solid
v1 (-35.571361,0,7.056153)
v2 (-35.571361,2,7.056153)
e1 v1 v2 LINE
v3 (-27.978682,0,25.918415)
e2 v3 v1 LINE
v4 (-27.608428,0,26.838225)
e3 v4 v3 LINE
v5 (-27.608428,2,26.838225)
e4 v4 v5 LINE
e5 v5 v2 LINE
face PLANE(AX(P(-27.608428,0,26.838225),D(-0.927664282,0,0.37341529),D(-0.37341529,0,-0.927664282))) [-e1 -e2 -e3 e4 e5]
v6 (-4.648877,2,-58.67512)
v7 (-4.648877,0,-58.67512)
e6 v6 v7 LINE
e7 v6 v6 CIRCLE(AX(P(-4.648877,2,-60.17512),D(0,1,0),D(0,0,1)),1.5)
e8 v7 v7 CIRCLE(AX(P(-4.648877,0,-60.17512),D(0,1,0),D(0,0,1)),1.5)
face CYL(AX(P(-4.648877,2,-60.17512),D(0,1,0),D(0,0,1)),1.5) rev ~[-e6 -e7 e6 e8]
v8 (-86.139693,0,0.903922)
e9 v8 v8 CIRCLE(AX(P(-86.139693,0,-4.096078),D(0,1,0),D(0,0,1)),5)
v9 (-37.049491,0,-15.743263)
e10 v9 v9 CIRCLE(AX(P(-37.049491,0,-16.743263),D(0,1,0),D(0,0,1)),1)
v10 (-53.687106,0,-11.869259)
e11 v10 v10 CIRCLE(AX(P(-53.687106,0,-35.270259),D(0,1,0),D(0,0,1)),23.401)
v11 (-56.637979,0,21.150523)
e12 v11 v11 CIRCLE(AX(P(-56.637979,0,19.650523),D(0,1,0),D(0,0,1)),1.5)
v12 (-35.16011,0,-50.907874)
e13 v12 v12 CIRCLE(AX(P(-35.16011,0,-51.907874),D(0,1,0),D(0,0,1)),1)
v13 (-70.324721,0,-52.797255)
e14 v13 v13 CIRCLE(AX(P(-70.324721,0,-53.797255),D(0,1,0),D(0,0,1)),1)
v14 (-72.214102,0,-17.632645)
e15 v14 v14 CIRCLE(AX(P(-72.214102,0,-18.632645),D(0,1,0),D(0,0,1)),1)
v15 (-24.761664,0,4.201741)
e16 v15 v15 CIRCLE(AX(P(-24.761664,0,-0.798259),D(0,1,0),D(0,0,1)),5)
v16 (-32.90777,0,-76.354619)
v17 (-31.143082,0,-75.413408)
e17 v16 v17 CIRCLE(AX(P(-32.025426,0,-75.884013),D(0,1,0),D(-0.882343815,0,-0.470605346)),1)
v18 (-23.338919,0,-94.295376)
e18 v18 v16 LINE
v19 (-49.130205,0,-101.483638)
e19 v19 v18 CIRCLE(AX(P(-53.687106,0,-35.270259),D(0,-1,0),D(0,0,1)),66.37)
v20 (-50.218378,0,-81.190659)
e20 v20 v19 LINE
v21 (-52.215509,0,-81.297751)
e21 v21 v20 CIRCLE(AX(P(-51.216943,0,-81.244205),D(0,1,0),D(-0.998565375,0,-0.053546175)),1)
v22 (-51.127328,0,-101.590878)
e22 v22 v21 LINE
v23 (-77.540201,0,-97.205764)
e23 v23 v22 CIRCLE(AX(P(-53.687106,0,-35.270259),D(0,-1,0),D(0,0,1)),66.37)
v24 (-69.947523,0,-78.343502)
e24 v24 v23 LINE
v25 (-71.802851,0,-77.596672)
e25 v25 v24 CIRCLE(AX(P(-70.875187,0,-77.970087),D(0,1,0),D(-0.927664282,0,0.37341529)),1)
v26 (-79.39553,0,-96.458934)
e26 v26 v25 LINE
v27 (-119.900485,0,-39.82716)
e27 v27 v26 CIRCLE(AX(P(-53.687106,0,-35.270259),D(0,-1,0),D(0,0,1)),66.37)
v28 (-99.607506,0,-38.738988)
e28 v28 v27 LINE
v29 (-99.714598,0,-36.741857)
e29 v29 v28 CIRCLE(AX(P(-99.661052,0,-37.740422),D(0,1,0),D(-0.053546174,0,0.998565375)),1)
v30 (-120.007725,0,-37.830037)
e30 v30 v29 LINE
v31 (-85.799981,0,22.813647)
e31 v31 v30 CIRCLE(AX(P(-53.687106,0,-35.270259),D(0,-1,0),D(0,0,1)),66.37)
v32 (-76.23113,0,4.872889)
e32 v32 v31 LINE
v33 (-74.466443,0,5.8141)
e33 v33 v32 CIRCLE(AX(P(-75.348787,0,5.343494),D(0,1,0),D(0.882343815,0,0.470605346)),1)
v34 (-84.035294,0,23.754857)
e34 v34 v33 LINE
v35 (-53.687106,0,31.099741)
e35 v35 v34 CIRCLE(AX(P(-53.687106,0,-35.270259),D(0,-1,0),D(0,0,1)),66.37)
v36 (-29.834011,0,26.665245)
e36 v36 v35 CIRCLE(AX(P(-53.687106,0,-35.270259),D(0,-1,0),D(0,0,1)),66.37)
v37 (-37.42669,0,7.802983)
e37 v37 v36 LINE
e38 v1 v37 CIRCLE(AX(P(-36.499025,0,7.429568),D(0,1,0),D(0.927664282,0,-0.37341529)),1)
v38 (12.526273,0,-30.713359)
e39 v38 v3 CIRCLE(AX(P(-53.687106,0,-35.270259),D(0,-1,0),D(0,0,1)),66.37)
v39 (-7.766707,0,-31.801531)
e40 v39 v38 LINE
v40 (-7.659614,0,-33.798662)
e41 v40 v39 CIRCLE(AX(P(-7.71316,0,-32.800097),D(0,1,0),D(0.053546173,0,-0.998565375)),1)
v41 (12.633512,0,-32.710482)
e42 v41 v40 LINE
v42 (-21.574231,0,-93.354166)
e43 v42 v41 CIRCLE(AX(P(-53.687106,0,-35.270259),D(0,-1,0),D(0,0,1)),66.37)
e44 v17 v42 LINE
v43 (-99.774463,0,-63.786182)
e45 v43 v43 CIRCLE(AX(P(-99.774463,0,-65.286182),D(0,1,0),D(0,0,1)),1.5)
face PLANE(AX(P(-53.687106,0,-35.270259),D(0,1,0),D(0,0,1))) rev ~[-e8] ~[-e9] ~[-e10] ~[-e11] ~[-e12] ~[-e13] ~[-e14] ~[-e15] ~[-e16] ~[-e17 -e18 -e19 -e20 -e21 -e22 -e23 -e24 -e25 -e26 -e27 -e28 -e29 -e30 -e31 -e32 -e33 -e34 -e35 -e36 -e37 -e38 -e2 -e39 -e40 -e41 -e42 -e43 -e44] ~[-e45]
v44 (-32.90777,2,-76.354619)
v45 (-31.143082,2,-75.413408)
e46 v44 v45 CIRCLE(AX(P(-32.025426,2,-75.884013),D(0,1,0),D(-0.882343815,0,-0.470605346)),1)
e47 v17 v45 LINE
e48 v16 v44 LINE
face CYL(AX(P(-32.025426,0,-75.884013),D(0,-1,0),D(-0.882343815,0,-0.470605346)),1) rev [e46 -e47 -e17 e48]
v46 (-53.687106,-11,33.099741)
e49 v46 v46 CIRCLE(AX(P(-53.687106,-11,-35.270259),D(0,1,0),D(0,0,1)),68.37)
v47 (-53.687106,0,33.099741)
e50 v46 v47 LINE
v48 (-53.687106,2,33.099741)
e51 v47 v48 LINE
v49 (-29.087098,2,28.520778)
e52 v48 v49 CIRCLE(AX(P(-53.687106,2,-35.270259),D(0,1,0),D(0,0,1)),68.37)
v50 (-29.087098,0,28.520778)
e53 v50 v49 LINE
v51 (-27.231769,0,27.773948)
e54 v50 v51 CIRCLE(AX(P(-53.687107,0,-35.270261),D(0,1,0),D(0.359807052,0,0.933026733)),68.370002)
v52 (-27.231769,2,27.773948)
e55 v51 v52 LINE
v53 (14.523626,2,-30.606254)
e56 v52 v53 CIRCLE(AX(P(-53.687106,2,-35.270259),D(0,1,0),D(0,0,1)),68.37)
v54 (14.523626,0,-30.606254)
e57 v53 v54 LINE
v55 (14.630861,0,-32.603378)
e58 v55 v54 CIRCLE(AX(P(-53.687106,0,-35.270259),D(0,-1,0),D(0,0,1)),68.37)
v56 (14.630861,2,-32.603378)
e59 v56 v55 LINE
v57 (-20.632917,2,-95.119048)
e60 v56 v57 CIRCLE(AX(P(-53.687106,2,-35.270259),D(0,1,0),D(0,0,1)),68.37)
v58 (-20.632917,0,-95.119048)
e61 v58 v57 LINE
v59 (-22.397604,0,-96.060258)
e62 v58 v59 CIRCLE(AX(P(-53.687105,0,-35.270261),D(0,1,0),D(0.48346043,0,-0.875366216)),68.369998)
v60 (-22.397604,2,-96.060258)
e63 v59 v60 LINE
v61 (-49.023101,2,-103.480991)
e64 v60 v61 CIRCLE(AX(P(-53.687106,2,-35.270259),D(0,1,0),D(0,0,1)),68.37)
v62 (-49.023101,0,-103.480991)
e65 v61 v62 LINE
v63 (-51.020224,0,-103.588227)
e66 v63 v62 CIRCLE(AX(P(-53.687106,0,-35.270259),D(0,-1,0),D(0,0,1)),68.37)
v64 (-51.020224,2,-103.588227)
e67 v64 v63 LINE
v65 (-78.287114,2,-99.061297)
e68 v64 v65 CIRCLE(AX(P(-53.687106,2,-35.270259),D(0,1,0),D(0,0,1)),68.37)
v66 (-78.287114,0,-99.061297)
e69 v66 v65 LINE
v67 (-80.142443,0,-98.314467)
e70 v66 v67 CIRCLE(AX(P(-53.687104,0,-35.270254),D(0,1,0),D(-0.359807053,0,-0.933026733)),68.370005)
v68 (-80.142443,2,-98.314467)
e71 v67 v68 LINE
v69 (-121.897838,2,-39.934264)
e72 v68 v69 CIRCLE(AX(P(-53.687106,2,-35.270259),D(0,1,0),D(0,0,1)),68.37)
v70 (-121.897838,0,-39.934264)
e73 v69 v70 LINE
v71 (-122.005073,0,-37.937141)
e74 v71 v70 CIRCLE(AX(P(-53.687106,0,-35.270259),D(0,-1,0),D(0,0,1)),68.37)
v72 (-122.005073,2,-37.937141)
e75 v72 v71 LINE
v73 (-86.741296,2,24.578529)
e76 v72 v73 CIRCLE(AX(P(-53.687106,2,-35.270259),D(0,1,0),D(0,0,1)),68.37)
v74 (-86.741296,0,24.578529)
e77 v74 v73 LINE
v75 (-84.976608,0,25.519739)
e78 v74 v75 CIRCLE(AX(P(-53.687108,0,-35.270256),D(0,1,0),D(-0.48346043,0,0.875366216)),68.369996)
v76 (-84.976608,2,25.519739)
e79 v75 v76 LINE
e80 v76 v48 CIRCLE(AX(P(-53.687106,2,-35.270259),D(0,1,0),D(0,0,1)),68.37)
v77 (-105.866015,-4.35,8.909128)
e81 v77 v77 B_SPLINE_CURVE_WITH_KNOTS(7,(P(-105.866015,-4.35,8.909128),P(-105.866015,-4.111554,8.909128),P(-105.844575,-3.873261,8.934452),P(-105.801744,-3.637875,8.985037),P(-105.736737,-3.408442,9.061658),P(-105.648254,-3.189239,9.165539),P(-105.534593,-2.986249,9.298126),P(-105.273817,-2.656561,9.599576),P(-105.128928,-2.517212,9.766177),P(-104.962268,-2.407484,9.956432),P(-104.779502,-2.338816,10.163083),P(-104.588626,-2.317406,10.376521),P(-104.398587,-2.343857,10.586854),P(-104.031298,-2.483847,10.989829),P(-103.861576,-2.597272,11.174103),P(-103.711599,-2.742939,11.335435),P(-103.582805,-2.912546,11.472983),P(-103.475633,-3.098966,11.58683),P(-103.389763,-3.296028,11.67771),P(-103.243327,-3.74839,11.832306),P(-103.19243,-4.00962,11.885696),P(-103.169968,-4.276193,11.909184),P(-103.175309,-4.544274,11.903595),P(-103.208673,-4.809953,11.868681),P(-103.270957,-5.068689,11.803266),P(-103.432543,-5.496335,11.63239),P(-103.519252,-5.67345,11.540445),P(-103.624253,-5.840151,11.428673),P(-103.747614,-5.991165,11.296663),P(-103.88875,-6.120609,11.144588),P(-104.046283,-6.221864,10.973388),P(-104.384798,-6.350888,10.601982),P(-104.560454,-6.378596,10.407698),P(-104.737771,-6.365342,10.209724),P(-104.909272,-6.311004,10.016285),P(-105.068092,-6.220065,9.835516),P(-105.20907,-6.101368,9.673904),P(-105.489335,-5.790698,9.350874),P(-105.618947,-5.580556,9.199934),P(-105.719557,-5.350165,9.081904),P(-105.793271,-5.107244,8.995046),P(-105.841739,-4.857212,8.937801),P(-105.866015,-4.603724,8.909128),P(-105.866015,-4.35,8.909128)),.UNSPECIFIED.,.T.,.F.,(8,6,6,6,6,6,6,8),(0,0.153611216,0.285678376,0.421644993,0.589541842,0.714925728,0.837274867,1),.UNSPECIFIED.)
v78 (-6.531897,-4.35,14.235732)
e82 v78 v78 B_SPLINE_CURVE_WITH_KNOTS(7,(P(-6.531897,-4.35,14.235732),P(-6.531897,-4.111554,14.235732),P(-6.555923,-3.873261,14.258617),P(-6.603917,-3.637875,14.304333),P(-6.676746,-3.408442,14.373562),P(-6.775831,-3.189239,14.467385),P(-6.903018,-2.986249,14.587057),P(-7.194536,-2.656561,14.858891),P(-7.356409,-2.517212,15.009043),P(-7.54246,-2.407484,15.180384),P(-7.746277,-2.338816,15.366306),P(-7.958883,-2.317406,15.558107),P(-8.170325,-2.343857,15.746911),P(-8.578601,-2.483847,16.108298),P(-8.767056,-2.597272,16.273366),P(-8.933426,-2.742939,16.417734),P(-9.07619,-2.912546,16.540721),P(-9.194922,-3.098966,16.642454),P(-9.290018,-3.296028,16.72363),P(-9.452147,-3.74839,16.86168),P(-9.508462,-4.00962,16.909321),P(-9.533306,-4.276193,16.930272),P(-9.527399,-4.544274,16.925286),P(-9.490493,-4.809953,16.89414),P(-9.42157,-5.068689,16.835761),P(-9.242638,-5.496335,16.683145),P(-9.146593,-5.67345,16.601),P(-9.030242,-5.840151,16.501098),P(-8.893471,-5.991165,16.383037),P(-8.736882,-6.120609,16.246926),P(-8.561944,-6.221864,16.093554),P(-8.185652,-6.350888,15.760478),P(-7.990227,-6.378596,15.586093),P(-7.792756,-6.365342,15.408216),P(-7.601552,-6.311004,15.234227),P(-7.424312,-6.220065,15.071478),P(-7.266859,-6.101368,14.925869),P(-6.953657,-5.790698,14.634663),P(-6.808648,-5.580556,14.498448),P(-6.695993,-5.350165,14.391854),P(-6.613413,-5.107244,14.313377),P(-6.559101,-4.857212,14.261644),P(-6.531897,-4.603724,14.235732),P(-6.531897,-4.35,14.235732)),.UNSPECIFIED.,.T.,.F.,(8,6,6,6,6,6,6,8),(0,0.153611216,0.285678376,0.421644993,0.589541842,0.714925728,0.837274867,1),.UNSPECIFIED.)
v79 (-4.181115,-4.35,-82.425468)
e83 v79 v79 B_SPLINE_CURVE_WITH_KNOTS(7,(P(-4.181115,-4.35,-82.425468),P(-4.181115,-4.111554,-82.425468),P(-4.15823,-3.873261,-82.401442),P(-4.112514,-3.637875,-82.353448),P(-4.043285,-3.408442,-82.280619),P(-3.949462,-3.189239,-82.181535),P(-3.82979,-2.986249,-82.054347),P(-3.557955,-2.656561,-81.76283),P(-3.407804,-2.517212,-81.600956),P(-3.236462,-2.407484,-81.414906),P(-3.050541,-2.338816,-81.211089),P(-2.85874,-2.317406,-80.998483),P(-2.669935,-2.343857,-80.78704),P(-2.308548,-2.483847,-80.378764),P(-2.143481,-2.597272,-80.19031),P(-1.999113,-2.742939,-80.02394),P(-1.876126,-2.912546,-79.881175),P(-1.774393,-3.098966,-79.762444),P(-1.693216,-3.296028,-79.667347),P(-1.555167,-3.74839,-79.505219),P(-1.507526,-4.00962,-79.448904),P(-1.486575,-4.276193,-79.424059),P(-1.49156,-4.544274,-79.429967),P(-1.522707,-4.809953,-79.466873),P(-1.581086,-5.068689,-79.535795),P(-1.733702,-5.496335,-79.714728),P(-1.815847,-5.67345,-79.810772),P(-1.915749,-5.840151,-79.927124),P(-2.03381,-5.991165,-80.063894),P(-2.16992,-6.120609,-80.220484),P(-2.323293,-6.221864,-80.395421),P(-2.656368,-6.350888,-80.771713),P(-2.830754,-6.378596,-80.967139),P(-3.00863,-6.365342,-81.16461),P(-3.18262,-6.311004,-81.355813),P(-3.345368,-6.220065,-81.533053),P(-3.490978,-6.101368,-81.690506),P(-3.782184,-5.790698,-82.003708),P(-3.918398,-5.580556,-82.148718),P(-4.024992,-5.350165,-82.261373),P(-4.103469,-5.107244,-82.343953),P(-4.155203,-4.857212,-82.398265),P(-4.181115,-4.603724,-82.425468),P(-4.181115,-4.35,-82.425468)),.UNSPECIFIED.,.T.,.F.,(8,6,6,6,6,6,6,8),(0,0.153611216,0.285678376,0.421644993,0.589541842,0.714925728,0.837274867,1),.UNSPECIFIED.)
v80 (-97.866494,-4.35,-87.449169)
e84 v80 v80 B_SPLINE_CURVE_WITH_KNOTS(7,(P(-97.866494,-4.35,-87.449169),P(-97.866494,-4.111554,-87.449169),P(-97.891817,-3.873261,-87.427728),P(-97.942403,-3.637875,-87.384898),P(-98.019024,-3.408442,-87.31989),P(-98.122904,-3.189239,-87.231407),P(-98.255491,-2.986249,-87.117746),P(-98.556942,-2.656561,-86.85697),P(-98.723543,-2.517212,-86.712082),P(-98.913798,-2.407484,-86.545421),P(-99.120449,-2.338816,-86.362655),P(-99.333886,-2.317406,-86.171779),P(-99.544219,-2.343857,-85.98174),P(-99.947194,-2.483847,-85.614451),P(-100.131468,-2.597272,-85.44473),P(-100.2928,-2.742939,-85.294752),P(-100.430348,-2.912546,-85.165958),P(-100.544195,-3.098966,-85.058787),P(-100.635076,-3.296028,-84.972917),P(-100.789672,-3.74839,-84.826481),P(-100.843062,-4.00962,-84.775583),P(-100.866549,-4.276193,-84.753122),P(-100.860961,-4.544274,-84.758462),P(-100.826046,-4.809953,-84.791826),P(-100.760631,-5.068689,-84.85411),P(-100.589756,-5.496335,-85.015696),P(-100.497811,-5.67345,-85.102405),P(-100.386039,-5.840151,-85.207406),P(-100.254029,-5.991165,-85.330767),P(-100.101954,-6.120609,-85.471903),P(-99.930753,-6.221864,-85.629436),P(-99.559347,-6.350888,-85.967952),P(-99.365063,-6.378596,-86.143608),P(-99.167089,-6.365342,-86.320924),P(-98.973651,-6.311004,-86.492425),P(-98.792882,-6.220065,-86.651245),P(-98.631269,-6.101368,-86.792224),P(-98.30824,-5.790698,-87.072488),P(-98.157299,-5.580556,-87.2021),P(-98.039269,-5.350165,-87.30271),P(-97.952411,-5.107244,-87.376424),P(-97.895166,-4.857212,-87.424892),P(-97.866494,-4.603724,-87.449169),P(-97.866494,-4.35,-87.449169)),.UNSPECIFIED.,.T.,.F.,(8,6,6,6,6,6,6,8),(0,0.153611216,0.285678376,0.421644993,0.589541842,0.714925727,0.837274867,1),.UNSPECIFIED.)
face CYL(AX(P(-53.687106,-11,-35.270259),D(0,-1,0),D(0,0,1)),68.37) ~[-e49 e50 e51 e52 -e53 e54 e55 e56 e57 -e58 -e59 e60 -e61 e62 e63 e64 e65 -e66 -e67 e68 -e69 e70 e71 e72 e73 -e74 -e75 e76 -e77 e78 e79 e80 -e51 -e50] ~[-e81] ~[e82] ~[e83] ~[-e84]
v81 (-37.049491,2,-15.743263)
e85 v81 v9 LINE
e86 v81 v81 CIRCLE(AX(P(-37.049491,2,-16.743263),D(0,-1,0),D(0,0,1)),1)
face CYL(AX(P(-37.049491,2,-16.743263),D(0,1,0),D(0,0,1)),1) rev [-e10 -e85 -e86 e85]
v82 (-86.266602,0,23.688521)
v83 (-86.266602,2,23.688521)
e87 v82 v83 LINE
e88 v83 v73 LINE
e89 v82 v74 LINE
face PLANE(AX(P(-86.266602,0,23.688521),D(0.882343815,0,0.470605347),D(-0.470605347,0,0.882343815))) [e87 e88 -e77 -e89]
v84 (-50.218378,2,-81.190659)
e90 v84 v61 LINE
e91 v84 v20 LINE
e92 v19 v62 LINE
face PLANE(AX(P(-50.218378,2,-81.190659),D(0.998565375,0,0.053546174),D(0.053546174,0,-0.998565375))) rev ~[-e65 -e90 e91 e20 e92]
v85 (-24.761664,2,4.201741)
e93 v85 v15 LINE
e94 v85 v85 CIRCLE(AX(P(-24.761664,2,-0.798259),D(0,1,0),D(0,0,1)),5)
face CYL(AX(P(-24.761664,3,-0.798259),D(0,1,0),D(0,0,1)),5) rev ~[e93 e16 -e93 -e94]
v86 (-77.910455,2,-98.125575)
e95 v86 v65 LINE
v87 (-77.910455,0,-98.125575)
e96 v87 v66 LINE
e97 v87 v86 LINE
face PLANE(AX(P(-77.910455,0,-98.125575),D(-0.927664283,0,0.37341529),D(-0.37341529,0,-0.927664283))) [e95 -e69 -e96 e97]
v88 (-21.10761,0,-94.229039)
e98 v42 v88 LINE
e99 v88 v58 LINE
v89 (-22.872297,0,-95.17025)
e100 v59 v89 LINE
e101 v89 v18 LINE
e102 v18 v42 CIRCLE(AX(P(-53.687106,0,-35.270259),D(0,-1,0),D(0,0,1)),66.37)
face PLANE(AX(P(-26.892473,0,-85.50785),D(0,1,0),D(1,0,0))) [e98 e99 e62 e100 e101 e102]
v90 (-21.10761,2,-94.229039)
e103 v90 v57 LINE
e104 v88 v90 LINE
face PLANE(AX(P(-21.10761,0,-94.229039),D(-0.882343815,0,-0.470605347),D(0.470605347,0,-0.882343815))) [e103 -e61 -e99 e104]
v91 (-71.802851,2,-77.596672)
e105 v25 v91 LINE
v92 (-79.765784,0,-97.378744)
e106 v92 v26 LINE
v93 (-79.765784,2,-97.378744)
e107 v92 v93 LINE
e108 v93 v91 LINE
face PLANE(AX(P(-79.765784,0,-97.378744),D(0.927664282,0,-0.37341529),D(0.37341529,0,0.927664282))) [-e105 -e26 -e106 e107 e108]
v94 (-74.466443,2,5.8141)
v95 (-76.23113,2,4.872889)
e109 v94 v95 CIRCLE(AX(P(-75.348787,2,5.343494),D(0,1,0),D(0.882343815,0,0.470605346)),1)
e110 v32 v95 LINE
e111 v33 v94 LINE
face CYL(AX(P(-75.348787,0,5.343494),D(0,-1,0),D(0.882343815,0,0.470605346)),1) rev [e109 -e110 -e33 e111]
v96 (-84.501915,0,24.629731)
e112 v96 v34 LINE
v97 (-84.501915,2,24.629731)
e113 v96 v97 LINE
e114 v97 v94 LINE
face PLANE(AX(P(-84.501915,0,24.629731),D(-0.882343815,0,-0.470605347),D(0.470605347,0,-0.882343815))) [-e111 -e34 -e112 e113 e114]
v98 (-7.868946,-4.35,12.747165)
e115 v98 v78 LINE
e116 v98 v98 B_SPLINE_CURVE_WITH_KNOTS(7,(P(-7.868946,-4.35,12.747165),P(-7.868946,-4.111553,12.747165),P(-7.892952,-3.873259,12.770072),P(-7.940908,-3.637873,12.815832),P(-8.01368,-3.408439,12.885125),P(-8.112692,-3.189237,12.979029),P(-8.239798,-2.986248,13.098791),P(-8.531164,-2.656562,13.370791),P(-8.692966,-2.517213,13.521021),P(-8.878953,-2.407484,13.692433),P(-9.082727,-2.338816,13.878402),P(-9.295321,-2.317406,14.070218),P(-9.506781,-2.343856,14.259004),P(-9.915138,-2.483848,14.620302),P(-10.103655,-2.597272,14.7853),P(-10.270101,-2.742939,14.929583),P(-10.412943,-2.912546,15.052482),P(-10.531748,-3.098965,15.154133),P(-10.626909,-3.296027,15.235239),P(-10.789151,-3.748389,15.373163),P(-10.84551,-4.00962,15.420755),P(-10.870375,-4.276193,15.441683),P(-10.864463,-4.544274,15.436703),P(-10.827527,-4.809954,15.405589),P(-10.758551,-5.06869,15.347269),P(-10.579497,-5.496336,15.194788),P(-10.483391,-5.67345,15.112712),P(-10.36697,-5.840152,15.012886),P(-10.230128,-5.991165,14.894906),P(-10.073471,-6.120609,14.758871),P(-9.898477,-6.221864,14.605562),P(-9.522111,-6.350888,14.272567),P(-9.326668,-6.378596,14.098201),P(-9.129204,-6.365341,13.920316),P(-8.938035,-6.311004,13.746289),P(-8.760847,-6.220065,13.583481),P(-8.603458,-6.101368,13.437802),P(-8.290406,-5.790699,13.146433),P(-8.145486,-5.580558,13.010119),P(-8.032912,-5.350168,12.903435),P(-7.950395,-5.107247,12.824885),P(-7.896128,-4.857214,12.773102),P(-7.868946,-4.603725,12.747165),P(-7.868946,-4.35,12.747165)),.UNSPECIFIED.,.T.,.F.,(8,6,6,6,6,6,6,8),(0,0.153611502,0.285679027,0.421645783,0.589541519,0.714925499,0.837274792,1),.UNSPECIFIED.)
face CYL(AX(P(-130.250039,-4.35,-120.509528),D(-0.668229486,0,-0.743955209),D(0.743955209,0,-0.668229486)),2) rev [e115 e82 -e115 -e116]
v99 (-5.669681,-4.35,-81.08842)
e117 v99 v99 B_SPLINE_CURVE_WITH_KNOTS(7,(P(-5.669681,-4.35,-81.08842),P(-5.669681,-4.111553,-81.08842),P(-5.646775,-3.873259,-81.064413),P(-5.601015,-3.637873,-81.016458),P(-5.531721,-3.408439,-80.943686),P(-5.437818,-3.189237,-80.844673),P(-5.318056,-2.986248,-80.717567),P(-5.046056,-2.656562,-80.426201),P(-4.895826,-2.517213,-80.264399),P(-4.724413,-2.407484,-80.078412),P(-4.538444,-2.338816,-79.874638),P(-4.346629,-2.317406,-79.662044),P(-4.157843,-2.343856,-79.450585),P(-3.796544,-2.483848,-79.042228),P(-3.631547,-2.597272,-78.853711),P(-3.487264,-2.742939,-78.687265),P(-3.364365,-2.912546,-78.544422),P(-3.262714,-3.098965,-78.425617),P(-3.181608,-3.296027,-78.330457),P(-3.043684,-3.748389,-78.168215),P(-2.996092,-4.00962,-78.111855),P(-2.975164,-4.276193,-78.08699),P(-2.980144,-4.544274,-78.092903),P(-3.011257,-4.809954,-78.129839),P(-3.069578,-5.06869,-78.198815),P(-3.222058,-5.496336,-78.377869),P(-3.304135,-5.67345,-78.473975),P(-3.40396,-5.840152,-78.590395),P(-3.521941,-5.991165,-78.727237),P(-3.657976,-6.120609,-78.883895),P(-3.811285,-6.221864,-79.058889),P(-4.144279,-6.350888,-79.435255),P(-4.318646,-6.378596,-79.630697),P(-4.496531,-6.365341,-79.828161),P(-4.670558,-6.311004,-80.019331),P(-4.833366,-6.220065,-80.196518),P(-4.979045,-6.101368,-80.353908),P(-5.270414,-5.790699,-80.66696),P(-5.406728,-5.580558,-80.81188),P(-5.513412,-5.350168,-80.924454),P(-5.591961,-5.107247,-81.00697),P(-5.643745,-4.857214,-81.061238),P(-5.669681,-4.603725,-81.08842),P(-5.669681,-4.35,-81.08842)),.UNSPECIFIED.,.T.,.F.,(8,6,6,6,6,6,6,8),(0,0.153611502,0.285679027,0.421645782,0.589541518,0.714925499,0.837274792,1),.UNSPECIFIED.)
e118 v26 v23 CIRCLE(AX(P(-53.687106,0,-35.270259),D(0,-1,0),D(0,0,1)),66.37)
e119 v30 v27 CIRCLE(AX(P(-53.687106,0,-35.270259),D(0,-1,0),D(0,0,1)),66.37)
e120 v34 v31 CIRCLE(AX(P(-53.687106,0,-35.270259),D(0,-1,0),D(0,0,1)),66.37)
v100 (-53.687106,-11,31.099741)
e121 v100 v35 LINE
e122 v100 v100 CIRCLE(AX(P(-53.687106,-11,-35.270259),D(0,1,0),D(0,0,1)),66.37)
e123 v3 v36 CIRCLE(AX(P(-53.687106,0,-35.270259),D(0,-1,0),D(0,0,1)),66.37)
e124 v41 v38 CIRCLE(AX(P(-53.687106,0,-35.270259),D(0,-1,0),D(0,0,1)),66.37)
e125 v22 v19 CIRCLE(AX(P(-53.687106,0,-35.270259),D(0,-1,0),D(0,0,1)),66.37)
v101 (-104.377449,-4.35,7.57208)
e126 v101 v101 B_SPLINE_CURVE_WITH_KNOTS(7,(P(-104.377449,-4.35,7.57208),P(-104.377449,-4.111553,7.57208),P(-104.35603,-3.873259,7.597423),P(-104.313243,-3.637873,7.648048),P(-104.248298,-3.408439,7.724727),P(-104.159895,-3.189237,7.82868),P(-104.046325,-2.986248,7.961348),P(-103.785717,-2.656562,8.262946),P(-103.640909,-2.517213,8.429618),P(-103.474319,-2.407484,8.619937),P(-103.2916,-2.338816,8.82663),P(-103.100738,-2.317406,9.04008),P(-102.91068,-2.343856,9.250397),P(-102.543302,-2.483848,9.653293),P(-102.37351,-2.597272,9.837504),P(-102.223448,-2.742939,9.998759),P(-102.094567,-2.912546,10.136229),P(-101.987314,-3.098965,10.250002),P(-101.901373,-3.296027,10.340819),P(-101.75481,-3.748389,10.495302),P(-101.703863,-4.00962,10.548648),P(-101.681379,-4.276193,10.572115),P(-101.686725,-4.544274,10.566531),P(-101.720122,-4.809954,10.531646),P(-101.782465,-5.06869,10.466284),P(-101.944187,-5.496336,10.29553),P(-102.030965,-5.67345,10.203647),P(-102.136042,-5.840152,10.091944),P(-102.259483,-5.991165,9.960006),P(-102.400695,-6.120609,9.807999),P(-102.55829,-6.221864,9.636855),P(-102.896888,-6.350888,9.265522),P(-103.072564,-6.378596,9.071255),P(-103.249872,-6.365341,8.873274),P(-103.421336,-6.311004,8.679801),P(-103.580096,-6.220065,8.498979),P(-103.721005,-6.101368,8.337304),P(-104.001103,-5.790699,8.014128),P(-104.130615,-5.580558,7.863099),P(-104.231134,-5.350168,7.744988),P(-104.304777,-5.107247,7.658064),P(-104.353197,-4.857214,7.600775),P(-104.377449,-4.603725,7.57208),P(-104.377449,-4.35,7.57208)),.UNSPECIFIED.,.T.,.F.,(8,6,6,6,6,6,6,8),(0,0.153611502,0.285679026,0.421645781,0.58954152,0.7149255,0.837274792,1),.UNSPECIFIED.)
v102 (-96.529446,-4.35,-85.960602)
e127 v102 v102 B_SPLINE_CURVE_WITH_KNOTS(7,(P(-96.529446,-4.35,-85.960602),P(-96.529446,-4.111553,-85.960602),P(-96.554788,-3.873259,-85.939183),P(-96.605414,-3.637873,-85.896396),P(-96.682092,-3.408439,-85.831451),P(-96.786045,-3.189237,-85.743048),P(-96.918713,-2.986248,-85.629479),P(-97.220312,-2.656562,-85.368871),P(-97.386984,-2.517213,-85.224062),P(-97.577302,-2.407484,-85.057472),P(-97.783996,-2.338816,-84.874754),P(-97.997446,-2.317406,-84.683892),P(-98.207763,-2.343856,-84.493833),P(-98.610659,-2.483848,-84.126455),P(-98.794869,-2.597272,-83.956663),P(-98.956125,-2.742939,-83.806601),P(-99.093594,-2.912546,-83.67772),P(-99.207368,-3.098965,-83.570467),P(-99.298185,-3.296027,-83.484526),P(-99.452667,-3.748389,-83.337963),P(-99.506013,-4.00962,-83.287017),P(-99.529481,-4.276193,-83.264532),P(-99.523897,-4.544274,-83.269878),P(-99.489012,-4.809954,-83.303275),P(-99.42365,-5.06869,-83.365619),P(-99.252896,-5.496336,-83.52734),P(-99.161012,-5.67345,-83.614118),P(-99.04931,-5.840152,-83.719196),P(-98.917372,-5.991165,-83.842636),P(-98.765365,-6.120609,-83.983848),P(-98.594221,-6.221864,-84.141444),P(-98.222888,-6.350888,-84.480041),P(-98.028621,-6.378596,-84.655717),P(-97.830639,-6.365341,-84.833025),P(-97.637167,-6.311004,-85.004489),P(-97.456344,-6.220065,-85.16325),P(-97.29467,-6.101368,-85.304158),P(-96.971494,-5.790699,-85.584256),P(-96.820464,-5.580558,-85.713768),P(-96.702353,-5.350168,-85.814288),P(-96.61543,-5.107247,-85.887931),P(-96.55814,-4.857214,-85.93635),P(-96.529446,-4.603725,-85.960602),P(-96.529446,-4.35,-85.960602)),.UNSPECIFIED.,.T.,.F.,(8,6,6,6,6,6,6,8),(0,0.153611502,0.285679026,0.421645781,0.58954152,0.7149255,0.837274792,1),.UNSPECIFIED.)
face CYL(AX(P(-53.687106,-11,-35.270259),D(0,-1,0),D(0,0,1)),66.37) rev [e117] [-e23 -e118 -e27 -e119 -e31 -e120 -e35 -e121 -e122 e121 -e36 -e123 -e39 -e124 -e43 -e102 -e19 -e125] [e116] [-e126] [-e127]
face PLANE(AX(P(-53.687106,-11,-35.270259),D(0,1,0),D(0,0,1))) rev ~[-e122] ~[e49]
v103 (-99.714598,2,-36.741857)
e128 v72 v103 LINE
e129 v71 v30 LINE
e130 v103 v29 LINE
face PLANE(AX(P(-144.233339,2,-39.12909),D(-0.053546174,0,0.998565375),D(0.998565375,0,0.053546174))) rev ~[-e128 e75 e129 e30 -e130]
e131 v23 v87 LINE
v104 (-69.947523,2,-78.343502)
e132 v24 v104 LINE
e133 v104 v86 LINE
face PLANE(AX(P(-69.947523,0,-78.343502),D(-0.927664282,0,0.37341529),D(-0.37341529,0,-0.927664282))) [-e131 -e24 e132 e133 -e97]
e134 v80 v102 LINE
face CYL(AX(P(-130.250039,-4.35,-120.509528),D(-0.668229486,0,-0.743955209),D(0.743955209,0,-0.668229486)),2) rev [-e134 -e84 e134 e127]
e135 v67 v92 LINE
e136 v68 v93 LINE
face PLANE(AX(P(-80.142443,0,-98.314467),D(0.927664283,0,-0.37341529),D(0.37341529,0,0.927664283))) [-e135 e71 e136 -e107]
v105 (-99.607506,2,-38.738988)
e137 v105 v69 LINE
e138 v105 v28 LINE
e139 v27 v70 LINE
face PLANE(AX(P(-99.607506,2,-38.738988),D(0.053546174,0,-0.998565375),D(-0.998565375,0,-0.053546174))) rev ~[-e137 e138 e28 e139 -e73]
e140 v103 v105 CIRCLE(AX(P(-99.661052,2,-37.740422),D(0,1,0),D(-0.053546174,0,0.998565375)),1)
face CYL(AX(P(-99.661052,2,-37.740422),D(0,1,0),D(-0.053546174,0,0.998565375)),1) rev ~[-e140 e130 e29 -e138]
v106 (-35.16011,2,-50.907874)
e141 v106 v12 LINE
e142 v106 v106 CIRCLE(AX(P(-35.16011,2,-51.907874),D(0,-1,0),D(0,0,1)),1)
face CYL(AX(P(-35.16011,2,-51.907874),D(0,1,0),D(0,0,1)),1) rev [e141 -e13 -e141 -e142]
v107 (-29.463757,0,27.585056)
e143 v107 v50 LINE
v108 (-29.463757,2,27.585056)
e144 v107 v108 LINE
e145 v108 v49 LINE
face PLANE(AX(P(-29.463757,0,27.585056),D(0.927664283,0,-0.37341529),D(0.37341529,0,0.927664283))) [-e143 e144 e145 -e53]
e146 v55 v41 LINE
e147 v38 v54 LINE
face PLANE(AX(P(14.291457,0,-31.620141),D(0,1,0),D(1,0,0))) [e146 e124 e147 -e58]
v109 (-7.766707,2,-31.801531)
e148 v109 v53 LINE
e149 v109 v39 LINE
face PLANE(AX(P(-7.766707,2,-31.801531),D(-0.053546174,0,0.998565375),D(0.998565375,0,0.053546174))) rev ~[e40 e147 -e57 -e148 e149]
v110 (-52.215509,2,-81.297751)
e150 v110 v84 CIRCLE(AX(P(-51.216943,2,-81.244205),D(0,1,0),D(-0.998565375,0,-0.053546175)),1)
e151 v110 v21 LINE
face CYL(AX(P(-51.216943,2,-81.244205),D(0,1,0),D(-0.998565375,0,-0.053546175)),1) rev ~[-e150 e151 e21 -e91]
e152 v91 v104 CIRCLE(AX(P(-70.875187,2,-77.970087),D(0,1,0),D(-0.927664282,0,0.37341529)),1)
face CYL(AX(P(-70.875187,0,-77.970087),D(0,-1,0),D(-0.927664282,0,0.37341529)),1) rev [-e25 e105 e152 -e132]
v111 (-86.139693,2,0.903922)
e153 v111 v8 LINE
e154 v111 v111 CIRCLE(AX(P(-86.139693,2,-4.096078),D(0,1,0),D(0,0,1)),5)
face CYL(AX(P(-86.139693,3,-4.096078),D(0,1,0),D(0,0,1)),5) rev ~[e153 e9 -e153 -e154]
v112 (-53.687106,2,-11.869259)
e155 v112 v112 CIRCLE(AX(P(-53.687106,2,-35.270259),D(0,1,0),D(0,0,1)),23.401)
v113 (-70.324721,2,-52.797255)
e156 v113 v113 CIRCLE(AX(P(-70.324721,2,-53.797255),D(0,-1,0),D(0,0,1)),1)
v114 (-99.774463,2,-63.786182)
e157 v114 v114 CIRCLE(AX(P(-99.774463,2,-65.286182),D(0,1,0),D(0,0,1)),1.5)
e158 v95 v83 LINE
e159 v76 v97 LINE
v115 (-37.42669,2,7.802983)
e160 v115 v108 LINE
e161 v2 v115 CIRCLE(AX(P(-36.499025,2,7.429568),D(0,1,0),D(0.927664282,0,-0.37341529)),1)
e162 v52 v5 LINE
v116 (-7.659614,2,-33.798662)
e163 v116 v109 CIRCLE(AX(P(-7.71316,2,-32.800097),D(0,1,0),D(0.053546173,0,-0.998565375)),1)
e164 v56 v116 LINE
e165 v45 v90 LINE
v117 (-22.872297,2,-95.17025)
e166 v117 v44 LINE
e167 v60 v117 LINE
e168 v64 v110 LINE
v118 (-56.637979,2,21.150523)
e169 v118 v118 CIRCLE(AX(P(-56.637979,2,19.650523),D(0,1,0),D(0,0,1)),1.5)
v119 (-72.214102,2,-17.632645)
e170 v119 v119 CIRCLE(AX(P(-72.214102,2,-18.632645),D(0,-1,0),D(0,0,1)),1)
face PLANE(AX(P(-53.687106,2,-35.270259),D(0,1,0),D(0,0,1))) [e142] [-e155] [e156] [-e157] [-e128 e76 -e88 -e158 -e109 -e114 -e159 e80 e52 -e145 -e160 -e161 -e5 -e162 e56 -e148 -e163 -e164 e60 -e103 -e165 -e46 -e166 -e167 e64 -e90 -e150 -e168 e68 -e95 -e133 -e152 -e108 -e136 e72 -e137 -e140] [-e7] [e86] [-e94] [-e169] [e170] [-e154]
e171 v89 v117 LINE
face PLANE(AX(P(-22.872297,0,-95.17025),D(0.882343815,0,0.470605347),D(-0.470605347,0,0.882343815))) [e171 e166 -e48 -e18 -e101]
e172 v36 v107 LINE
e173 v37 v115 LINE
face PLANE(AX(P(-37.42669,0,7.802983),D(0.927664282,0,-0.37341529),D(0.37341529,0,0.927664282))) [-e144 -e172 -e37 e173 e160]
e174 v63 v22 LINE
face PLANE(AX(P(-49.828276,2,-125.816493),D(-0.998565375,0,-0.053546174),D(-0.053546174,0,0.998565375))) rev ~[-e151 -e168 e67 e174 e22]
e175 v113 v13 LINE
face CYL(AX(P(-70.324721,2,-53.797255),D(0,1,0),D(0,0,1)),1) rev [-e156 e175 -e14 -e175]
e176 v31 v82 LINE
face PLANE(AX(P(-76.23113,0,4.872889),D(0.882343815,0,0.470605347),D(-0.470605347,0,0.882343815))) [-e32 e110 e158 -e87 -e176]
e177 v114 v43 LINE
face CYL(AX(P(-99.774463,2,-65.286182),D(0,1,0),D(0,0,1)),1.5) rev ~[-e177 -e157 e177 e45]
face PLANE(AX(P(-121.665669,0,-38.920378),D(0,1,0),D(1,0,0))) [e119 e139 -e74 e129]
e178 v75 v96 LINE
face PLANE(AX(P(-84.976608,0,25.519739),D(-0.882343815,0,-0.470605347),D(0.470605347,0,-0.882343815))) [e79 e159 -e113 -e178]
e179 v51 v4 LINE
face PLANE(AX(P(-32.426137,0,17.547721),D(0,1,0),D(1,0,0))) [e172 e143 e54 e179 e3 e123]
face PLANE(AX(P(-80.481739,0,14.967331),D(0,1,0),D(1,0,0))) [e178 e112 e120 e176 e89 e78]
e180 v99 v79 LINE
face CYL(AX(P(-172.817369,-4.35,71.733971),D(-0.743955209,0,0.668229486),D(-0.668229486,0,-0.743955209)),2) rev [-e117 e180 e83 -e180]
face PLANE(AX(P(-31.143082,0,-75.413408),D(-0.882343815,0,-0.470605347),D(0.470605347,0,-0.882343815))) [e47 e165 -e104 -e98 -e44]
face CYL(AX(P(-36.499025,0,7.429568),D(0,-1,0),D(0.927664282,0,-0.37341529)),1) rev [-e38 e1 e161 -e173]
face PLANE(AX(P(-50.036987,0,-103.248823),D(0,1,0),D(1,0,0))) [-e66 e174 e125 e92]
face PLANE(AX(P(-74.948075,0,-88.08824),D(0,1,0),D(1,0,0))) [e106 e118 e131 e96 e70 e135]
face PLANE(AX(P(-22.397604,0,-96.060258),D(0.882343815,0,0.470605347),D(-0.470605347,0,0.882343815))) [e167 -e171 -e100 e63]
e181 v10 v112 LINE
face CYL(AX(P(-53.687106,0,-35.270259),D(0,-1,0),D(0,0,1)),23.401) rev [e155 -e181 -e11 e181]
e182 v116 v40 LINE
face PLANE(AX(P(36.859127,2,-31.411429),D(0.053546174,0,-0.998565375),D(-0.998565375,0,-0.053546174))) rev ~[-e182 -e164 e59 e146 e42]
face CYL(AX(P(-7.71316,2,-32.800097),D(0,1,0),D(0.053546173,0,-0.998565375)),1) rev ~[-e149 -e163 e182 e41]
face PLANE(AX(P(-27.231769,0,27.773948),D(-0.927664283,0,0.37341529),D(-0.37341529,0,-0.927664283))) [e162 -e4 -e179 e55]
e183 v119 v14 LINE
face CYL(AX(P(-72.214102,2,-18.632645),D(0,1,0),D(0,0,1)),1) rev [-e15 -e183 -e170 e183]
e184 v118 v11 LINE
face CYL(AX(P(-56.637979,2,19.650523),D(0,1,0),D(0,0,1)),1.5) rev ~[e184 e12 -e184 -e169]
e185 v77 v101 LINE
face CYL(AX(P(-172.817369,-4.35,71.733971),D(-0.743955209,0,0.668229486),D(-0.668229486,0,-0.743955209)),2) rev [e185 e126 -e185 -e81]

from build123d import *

# Parameters (mm, degrees)
SKETCH1_R                = 68.369999998
SKETCH1_R_2              = 23.401
BOSS_EXTRUDE1_DEPTH      = 2
BOSS_EXTRUDE2_START      = -13
SKETCH3_R                = 68.369999998
SKETCH3_R_2              = 66.37
BOSS_EXTRUDE2_DEPTH      = 13
CUT_EXTRUDE40_DEPTH      = 114.575806629
CUT_EXTRUDE40_DEPTH_BACK = 114.575806629
SKETCH63_R               = 2
CUT_EXTRUDE41_DEPTH      = 160.130961581
CUT_EXTRUDE41_DEPTH_BACK = 160.130961581
SKETCH64_R               = 2
CUT_EXTRUDE45_DEPTH      = 2
SKETCH73_R               = 1
CUT_EXTRUDE47_DEPTH      = 10
SKETCH70_R               = 1.5
CUT_EXTRUDE48_DEPTH      = 10
SKETCH74_R               = 5
CUT_EXTRUDE49_DEPTH      = 10
CUT_EXTRUDE51_START      = -2
CUT_EXTRUDE51_DEPTH      = 2


with BuildPart() as part:
    # Sketch1 → Boss-Extrude1 (new body)
    with BuildSketch(Plane(origin=(0, 0, 0), x_dir=(-0.9985653746512714, 0, -0.053546172109368295), z_dir=(0, 1, 0))):
        with Locations(Location((55.498672647, -32.344920806, 0), (0, 0, 93.069437642))):
            Circle(SKETCH1_R)
        with Locations(Location((55.498672647, -32.344920806, 0), (0, 0, 93.069437642))):
            Circle(SKETCH1_R_2, mode=Mode.SUBTRACT)
    extrude(amount=BOSS_EXTRUDE1_DEPTH)

    # Sketch3 → Boss-Extrude2 (add)
    with BuildSketch(Plane(origin=(0, 2, 0), x_dir=(1, 0, 0), z_dir=(0, 1, 0)).offset(BOSS_EXTRUDE2_START)):
        with Locations(Location((-53.687106148, 35.27025944, 0), (0, 0, 270))):
            Circle(SKETCH3_R)
        with Locations(Location((-53.687106148, 35.27025944, 0), (0, 0, 270))):
            Circle(SKETCH3_R_2, mode=Mode.SUBTRACT)
    extrude(amount=BOSS_EXTRUDE2_DEPTH)

    # Sketch63 → Cut-Extrude40 (cut, two sides: drawn at the far end of the back side and taken through both)
    with BuildSketch(Plane(origin=(-41.506941316, 0, -46.21062949), x_dir=(0.7439552092791144, 2.284460434874975e-13, -0.6682294864688846), z_dir=(0.6682294864688846, -2.5433421830845933e-13, 0.7439552092791144)).offset(-CUT_EXTRUDE40_DEPTH_BACK)):
        with Locations((-16.372174937, -4.35)):
            Circle(SKETCH63_R)
    extrude(amount=CUT_EXTRUDE40_DEPTH + CUT_EXTRUDE40_DEPTH_BACK, mode=Mode.SUBTRACT)

    # Sketch64 → Cut-Extrude41 (cut, two sides: drawn at the far end of the back side and taken through both)
    with BuildSketch(Plane(origin=(-12.180164832, 0, 10.94037005), x_dir=(-0.668229486468876, 1.5883353274739987e-15, -0.743955209279122), z_dir=(0.743955209279122, -1.7683301393964735e-15, -0.668229486468876)).offset(-CUT_EXTRUDE41_DEPTH_BACK)):
        with Locations((62.114800614, -4.35)):
            Circle(SKETCH64_R)
    extrude(amount=CUT_EXTRUDE41_DEPTH + CUT_EXTRUDE41_DEPTH_BACK, mode=Mode.SUBTRACT)

    # Sketch67 → Cut-Extrude45 (cut)
    with BuildSketch(Plane(origin=(0, 2, 0), x_dir=(1, 0, 0), z_dir=(0, 1, 0))):
        with BuildLine():
            Line((-47.831144931, 125.709400378), (-49.82827568, 125.816492726))
            Line((-49.82827568, 125.816492726), (-52.215508738, 81.297751413))
            ThreePointArc((-52.215508738, 81.297751413), (-51.270489538, 80.245639864), (-50.218377989, 81.190659065))
            Line((-50.218377989, 81.190659065), (-47.831144931, 125.709400378))
        make_face()
        with BuildLine():
            Line((-144.126247086, 41.126220657), (-144.233339434, 39.129089908))
            Line((-144.233339434, 39.129089908), (-99.714598121, 36.741856849))
            ThreePointArc((-99.714598121, 36.741856849), (-98.662486572, 37.68687605), (-99.607505773, 38.738987598))
            Line((-99.607505773, 38.738987598), (-144.126247086, 41.126220657))
        make_face()
        with BuildLine():
            Line((36.75203479, 29.414298222), (36.859127139, 31.411428971))
            Line((36.859127139, 31.411428971), (-7.659614175, 33.79866203))
            ThreePointArc((-7.659614175, 33.79866203), (-8.711725723, 32.853642829), (-7.766706523, 31.801531281))
            Line((-7.766706523, 31.801531281), (36.75203479, 29.414298222))
        make_face()
    extrude(amount=-CUT_EXTRUDE45_DEPTH, mode=Mode.SUBTRACT)

    # Sketch73 → Cut-Extrude47 (cut)
    with BuildSketch(Plane.XZ.offset(-2)):
        with Locations(Location((-72.2141021, -18.632644766, 0), (0, 0, 90))):
            Circle(SKETCH73_R)
        with Locations(Location((-37.049491474, -16.743263487, 0), (0, 0, 90))):
            Circle(SKETCH73_R)
        with Locations(Location((-35.160110195, -51.907874114, 0), (0, 0, 90))):
            Circle(SKETCH73_R)
        with Locations(Location((-70.324720822, -53.797255392, 0), (0, 0, 90))):
            Circle(SKETCH73_R)
    extrude(amount=CUT_EXTRUDE47_DEPTH, mode=Mode.SUBTRACT)

    # Sketch70 → Cut-Extrude48 (cut)
    with BuildSketch(Plane(origin=(0, 2, 0), x_dir=(1, 0, 0), z_dir=(0, 1, 0))):
        with Locations(Location((-99.774462502, 65.286181619, 0), (0, 0, 270))):
            Circle(SKETCH70_R)
        with Locations(Location((-56.637979096, -19.650523046, 0), (0, 0, 270))):
            Circle(SKETCH70_R)
        with Locations(Location((-4.648876845, 60.175119746, 0), (0, 0, 270))):
            Circle(SKETCH70_R)
    extrude(amount=-CUT_EXTRUDE48_DEPTH, mode=Mode.SUBTRACT)

    # Sketch74 → Cut-Extrude49 (cut)
    with BuildSketch(Plane(origin=(19.562495047, 3, -2.053609117), x_dir=(1, 0, 0), z_dir=(0, 1, 0))):
        with Locations(Location((-105.702188225, 2.042468777, 0), (0, 0, 270))):
            Circle(SKETCH74_R)
        with Locations(Location((-44.324158759, -1.255349618, 0), (0, 0, 270))):
            Circle(SKETCH74_R)
    extrude(amount=-CUT_EXTRUDE49_DEPTH, mode=Mode.SUBTRACT)

    # Sketch75 → Cut-Extrude51 (cut)
    with BuildSketch(Plane(origin=(0, 2, 0), x_dir=(1, 0, 0), z_dir=(0, 1, 0)).offset(CUT_EXTRUDE51_START)):
        with BuildLine():
            ThreePointArc((-78.28711428, 99.061297209), (-79.21750955, 98.694666428), (-80.142442845, 98.314466628))
            Line((-80.142442845, 98.314466628), (-79.765783898, 97.378744227))
            Line((-79.765783898, 97.378744227), (-71.802851111, 77.596671772))
            ThreePointArc((-71.802851111, 77.596671772), (-70.501771538, 77.04242278), (-69.947522546, 78.343502353))
            Line((-69.947522546, 78.343502353), (-77.910455333, 98.125574808))
            Line((-77.910455333, 98.125574808), (-78.28711428, 99.061297209))
        make_face()
        with BuildLine():
            Line((-21.107609811, 94.229039398), (-20.63291657, 95.119047657))
            ThreePointArc((-20.63291657, 95.119047657), (-21.511818593, 95.596106061), (-22.397604199, 96.060258351))
            Line((-22.397604199, 96.060258351), (-22.872297441, 95.170250092))
            Line((-22.872297441, 95.170250092), (-32.907769586, 76.354618611))
            ThreePointArc((-32.907769586, 76.354618611), (-32.496031118, 75.00166945), (-31.143081956, 75.413407918))
            Line((-31.143081956, 75.413407918), (-21.107609811, 94.229039398))
        make_face()
        with BuildLine():
            Line((-76.23113034, -4.872889039), (-86.266602485, -23.688520519))
            Line((-86.266602485, -23.688520519), (-86.741295726, -24.578528778))
            ThreePointArc((-86.741295726, -24.578528778), (-85.862393702, -25.055587182), (-84.976608096, -25.519739471))
            Line((-84.976608096, -25.519739471), (-84.501914855, -24.629731212))
            Line((-84.501914855, -24.629731212), (-74.46644271, -5.814099732))
            ThreePointArc((-74.46644271, -5.814099732), (-74.878181178, -4.461150571), (-76.23113034, -4.872889039))
        make_face()
        with BuildLine():
            Line((-29.463756963, -27.585055929), (-29.087098016, -28.52077833))
            ThreePointArc((-29.087098016, -28.52077833), (-28.156702745, -28.154147549), (-27.231769451, -27.773947749))
            Line((-27.231769451, -27.773947749), (-27.608428398, -26.838225348))
            Line((-27.608428398, -26.838225348), (-35.571361185, -7.056152893))
            ThreePointArc((-35.571361185, -7.056152893), (-36.872440758, -6.501903901), (-37.42668975, -7.802983474))
            Line((-37.42668975, -7.802983474), (-29.463756963, -27.585055929))
        make_face()
    extrude(amount=CUT_EXTRUDE51_DEPTH, mode=Mode.SUBTRACT)


solid = part.part
